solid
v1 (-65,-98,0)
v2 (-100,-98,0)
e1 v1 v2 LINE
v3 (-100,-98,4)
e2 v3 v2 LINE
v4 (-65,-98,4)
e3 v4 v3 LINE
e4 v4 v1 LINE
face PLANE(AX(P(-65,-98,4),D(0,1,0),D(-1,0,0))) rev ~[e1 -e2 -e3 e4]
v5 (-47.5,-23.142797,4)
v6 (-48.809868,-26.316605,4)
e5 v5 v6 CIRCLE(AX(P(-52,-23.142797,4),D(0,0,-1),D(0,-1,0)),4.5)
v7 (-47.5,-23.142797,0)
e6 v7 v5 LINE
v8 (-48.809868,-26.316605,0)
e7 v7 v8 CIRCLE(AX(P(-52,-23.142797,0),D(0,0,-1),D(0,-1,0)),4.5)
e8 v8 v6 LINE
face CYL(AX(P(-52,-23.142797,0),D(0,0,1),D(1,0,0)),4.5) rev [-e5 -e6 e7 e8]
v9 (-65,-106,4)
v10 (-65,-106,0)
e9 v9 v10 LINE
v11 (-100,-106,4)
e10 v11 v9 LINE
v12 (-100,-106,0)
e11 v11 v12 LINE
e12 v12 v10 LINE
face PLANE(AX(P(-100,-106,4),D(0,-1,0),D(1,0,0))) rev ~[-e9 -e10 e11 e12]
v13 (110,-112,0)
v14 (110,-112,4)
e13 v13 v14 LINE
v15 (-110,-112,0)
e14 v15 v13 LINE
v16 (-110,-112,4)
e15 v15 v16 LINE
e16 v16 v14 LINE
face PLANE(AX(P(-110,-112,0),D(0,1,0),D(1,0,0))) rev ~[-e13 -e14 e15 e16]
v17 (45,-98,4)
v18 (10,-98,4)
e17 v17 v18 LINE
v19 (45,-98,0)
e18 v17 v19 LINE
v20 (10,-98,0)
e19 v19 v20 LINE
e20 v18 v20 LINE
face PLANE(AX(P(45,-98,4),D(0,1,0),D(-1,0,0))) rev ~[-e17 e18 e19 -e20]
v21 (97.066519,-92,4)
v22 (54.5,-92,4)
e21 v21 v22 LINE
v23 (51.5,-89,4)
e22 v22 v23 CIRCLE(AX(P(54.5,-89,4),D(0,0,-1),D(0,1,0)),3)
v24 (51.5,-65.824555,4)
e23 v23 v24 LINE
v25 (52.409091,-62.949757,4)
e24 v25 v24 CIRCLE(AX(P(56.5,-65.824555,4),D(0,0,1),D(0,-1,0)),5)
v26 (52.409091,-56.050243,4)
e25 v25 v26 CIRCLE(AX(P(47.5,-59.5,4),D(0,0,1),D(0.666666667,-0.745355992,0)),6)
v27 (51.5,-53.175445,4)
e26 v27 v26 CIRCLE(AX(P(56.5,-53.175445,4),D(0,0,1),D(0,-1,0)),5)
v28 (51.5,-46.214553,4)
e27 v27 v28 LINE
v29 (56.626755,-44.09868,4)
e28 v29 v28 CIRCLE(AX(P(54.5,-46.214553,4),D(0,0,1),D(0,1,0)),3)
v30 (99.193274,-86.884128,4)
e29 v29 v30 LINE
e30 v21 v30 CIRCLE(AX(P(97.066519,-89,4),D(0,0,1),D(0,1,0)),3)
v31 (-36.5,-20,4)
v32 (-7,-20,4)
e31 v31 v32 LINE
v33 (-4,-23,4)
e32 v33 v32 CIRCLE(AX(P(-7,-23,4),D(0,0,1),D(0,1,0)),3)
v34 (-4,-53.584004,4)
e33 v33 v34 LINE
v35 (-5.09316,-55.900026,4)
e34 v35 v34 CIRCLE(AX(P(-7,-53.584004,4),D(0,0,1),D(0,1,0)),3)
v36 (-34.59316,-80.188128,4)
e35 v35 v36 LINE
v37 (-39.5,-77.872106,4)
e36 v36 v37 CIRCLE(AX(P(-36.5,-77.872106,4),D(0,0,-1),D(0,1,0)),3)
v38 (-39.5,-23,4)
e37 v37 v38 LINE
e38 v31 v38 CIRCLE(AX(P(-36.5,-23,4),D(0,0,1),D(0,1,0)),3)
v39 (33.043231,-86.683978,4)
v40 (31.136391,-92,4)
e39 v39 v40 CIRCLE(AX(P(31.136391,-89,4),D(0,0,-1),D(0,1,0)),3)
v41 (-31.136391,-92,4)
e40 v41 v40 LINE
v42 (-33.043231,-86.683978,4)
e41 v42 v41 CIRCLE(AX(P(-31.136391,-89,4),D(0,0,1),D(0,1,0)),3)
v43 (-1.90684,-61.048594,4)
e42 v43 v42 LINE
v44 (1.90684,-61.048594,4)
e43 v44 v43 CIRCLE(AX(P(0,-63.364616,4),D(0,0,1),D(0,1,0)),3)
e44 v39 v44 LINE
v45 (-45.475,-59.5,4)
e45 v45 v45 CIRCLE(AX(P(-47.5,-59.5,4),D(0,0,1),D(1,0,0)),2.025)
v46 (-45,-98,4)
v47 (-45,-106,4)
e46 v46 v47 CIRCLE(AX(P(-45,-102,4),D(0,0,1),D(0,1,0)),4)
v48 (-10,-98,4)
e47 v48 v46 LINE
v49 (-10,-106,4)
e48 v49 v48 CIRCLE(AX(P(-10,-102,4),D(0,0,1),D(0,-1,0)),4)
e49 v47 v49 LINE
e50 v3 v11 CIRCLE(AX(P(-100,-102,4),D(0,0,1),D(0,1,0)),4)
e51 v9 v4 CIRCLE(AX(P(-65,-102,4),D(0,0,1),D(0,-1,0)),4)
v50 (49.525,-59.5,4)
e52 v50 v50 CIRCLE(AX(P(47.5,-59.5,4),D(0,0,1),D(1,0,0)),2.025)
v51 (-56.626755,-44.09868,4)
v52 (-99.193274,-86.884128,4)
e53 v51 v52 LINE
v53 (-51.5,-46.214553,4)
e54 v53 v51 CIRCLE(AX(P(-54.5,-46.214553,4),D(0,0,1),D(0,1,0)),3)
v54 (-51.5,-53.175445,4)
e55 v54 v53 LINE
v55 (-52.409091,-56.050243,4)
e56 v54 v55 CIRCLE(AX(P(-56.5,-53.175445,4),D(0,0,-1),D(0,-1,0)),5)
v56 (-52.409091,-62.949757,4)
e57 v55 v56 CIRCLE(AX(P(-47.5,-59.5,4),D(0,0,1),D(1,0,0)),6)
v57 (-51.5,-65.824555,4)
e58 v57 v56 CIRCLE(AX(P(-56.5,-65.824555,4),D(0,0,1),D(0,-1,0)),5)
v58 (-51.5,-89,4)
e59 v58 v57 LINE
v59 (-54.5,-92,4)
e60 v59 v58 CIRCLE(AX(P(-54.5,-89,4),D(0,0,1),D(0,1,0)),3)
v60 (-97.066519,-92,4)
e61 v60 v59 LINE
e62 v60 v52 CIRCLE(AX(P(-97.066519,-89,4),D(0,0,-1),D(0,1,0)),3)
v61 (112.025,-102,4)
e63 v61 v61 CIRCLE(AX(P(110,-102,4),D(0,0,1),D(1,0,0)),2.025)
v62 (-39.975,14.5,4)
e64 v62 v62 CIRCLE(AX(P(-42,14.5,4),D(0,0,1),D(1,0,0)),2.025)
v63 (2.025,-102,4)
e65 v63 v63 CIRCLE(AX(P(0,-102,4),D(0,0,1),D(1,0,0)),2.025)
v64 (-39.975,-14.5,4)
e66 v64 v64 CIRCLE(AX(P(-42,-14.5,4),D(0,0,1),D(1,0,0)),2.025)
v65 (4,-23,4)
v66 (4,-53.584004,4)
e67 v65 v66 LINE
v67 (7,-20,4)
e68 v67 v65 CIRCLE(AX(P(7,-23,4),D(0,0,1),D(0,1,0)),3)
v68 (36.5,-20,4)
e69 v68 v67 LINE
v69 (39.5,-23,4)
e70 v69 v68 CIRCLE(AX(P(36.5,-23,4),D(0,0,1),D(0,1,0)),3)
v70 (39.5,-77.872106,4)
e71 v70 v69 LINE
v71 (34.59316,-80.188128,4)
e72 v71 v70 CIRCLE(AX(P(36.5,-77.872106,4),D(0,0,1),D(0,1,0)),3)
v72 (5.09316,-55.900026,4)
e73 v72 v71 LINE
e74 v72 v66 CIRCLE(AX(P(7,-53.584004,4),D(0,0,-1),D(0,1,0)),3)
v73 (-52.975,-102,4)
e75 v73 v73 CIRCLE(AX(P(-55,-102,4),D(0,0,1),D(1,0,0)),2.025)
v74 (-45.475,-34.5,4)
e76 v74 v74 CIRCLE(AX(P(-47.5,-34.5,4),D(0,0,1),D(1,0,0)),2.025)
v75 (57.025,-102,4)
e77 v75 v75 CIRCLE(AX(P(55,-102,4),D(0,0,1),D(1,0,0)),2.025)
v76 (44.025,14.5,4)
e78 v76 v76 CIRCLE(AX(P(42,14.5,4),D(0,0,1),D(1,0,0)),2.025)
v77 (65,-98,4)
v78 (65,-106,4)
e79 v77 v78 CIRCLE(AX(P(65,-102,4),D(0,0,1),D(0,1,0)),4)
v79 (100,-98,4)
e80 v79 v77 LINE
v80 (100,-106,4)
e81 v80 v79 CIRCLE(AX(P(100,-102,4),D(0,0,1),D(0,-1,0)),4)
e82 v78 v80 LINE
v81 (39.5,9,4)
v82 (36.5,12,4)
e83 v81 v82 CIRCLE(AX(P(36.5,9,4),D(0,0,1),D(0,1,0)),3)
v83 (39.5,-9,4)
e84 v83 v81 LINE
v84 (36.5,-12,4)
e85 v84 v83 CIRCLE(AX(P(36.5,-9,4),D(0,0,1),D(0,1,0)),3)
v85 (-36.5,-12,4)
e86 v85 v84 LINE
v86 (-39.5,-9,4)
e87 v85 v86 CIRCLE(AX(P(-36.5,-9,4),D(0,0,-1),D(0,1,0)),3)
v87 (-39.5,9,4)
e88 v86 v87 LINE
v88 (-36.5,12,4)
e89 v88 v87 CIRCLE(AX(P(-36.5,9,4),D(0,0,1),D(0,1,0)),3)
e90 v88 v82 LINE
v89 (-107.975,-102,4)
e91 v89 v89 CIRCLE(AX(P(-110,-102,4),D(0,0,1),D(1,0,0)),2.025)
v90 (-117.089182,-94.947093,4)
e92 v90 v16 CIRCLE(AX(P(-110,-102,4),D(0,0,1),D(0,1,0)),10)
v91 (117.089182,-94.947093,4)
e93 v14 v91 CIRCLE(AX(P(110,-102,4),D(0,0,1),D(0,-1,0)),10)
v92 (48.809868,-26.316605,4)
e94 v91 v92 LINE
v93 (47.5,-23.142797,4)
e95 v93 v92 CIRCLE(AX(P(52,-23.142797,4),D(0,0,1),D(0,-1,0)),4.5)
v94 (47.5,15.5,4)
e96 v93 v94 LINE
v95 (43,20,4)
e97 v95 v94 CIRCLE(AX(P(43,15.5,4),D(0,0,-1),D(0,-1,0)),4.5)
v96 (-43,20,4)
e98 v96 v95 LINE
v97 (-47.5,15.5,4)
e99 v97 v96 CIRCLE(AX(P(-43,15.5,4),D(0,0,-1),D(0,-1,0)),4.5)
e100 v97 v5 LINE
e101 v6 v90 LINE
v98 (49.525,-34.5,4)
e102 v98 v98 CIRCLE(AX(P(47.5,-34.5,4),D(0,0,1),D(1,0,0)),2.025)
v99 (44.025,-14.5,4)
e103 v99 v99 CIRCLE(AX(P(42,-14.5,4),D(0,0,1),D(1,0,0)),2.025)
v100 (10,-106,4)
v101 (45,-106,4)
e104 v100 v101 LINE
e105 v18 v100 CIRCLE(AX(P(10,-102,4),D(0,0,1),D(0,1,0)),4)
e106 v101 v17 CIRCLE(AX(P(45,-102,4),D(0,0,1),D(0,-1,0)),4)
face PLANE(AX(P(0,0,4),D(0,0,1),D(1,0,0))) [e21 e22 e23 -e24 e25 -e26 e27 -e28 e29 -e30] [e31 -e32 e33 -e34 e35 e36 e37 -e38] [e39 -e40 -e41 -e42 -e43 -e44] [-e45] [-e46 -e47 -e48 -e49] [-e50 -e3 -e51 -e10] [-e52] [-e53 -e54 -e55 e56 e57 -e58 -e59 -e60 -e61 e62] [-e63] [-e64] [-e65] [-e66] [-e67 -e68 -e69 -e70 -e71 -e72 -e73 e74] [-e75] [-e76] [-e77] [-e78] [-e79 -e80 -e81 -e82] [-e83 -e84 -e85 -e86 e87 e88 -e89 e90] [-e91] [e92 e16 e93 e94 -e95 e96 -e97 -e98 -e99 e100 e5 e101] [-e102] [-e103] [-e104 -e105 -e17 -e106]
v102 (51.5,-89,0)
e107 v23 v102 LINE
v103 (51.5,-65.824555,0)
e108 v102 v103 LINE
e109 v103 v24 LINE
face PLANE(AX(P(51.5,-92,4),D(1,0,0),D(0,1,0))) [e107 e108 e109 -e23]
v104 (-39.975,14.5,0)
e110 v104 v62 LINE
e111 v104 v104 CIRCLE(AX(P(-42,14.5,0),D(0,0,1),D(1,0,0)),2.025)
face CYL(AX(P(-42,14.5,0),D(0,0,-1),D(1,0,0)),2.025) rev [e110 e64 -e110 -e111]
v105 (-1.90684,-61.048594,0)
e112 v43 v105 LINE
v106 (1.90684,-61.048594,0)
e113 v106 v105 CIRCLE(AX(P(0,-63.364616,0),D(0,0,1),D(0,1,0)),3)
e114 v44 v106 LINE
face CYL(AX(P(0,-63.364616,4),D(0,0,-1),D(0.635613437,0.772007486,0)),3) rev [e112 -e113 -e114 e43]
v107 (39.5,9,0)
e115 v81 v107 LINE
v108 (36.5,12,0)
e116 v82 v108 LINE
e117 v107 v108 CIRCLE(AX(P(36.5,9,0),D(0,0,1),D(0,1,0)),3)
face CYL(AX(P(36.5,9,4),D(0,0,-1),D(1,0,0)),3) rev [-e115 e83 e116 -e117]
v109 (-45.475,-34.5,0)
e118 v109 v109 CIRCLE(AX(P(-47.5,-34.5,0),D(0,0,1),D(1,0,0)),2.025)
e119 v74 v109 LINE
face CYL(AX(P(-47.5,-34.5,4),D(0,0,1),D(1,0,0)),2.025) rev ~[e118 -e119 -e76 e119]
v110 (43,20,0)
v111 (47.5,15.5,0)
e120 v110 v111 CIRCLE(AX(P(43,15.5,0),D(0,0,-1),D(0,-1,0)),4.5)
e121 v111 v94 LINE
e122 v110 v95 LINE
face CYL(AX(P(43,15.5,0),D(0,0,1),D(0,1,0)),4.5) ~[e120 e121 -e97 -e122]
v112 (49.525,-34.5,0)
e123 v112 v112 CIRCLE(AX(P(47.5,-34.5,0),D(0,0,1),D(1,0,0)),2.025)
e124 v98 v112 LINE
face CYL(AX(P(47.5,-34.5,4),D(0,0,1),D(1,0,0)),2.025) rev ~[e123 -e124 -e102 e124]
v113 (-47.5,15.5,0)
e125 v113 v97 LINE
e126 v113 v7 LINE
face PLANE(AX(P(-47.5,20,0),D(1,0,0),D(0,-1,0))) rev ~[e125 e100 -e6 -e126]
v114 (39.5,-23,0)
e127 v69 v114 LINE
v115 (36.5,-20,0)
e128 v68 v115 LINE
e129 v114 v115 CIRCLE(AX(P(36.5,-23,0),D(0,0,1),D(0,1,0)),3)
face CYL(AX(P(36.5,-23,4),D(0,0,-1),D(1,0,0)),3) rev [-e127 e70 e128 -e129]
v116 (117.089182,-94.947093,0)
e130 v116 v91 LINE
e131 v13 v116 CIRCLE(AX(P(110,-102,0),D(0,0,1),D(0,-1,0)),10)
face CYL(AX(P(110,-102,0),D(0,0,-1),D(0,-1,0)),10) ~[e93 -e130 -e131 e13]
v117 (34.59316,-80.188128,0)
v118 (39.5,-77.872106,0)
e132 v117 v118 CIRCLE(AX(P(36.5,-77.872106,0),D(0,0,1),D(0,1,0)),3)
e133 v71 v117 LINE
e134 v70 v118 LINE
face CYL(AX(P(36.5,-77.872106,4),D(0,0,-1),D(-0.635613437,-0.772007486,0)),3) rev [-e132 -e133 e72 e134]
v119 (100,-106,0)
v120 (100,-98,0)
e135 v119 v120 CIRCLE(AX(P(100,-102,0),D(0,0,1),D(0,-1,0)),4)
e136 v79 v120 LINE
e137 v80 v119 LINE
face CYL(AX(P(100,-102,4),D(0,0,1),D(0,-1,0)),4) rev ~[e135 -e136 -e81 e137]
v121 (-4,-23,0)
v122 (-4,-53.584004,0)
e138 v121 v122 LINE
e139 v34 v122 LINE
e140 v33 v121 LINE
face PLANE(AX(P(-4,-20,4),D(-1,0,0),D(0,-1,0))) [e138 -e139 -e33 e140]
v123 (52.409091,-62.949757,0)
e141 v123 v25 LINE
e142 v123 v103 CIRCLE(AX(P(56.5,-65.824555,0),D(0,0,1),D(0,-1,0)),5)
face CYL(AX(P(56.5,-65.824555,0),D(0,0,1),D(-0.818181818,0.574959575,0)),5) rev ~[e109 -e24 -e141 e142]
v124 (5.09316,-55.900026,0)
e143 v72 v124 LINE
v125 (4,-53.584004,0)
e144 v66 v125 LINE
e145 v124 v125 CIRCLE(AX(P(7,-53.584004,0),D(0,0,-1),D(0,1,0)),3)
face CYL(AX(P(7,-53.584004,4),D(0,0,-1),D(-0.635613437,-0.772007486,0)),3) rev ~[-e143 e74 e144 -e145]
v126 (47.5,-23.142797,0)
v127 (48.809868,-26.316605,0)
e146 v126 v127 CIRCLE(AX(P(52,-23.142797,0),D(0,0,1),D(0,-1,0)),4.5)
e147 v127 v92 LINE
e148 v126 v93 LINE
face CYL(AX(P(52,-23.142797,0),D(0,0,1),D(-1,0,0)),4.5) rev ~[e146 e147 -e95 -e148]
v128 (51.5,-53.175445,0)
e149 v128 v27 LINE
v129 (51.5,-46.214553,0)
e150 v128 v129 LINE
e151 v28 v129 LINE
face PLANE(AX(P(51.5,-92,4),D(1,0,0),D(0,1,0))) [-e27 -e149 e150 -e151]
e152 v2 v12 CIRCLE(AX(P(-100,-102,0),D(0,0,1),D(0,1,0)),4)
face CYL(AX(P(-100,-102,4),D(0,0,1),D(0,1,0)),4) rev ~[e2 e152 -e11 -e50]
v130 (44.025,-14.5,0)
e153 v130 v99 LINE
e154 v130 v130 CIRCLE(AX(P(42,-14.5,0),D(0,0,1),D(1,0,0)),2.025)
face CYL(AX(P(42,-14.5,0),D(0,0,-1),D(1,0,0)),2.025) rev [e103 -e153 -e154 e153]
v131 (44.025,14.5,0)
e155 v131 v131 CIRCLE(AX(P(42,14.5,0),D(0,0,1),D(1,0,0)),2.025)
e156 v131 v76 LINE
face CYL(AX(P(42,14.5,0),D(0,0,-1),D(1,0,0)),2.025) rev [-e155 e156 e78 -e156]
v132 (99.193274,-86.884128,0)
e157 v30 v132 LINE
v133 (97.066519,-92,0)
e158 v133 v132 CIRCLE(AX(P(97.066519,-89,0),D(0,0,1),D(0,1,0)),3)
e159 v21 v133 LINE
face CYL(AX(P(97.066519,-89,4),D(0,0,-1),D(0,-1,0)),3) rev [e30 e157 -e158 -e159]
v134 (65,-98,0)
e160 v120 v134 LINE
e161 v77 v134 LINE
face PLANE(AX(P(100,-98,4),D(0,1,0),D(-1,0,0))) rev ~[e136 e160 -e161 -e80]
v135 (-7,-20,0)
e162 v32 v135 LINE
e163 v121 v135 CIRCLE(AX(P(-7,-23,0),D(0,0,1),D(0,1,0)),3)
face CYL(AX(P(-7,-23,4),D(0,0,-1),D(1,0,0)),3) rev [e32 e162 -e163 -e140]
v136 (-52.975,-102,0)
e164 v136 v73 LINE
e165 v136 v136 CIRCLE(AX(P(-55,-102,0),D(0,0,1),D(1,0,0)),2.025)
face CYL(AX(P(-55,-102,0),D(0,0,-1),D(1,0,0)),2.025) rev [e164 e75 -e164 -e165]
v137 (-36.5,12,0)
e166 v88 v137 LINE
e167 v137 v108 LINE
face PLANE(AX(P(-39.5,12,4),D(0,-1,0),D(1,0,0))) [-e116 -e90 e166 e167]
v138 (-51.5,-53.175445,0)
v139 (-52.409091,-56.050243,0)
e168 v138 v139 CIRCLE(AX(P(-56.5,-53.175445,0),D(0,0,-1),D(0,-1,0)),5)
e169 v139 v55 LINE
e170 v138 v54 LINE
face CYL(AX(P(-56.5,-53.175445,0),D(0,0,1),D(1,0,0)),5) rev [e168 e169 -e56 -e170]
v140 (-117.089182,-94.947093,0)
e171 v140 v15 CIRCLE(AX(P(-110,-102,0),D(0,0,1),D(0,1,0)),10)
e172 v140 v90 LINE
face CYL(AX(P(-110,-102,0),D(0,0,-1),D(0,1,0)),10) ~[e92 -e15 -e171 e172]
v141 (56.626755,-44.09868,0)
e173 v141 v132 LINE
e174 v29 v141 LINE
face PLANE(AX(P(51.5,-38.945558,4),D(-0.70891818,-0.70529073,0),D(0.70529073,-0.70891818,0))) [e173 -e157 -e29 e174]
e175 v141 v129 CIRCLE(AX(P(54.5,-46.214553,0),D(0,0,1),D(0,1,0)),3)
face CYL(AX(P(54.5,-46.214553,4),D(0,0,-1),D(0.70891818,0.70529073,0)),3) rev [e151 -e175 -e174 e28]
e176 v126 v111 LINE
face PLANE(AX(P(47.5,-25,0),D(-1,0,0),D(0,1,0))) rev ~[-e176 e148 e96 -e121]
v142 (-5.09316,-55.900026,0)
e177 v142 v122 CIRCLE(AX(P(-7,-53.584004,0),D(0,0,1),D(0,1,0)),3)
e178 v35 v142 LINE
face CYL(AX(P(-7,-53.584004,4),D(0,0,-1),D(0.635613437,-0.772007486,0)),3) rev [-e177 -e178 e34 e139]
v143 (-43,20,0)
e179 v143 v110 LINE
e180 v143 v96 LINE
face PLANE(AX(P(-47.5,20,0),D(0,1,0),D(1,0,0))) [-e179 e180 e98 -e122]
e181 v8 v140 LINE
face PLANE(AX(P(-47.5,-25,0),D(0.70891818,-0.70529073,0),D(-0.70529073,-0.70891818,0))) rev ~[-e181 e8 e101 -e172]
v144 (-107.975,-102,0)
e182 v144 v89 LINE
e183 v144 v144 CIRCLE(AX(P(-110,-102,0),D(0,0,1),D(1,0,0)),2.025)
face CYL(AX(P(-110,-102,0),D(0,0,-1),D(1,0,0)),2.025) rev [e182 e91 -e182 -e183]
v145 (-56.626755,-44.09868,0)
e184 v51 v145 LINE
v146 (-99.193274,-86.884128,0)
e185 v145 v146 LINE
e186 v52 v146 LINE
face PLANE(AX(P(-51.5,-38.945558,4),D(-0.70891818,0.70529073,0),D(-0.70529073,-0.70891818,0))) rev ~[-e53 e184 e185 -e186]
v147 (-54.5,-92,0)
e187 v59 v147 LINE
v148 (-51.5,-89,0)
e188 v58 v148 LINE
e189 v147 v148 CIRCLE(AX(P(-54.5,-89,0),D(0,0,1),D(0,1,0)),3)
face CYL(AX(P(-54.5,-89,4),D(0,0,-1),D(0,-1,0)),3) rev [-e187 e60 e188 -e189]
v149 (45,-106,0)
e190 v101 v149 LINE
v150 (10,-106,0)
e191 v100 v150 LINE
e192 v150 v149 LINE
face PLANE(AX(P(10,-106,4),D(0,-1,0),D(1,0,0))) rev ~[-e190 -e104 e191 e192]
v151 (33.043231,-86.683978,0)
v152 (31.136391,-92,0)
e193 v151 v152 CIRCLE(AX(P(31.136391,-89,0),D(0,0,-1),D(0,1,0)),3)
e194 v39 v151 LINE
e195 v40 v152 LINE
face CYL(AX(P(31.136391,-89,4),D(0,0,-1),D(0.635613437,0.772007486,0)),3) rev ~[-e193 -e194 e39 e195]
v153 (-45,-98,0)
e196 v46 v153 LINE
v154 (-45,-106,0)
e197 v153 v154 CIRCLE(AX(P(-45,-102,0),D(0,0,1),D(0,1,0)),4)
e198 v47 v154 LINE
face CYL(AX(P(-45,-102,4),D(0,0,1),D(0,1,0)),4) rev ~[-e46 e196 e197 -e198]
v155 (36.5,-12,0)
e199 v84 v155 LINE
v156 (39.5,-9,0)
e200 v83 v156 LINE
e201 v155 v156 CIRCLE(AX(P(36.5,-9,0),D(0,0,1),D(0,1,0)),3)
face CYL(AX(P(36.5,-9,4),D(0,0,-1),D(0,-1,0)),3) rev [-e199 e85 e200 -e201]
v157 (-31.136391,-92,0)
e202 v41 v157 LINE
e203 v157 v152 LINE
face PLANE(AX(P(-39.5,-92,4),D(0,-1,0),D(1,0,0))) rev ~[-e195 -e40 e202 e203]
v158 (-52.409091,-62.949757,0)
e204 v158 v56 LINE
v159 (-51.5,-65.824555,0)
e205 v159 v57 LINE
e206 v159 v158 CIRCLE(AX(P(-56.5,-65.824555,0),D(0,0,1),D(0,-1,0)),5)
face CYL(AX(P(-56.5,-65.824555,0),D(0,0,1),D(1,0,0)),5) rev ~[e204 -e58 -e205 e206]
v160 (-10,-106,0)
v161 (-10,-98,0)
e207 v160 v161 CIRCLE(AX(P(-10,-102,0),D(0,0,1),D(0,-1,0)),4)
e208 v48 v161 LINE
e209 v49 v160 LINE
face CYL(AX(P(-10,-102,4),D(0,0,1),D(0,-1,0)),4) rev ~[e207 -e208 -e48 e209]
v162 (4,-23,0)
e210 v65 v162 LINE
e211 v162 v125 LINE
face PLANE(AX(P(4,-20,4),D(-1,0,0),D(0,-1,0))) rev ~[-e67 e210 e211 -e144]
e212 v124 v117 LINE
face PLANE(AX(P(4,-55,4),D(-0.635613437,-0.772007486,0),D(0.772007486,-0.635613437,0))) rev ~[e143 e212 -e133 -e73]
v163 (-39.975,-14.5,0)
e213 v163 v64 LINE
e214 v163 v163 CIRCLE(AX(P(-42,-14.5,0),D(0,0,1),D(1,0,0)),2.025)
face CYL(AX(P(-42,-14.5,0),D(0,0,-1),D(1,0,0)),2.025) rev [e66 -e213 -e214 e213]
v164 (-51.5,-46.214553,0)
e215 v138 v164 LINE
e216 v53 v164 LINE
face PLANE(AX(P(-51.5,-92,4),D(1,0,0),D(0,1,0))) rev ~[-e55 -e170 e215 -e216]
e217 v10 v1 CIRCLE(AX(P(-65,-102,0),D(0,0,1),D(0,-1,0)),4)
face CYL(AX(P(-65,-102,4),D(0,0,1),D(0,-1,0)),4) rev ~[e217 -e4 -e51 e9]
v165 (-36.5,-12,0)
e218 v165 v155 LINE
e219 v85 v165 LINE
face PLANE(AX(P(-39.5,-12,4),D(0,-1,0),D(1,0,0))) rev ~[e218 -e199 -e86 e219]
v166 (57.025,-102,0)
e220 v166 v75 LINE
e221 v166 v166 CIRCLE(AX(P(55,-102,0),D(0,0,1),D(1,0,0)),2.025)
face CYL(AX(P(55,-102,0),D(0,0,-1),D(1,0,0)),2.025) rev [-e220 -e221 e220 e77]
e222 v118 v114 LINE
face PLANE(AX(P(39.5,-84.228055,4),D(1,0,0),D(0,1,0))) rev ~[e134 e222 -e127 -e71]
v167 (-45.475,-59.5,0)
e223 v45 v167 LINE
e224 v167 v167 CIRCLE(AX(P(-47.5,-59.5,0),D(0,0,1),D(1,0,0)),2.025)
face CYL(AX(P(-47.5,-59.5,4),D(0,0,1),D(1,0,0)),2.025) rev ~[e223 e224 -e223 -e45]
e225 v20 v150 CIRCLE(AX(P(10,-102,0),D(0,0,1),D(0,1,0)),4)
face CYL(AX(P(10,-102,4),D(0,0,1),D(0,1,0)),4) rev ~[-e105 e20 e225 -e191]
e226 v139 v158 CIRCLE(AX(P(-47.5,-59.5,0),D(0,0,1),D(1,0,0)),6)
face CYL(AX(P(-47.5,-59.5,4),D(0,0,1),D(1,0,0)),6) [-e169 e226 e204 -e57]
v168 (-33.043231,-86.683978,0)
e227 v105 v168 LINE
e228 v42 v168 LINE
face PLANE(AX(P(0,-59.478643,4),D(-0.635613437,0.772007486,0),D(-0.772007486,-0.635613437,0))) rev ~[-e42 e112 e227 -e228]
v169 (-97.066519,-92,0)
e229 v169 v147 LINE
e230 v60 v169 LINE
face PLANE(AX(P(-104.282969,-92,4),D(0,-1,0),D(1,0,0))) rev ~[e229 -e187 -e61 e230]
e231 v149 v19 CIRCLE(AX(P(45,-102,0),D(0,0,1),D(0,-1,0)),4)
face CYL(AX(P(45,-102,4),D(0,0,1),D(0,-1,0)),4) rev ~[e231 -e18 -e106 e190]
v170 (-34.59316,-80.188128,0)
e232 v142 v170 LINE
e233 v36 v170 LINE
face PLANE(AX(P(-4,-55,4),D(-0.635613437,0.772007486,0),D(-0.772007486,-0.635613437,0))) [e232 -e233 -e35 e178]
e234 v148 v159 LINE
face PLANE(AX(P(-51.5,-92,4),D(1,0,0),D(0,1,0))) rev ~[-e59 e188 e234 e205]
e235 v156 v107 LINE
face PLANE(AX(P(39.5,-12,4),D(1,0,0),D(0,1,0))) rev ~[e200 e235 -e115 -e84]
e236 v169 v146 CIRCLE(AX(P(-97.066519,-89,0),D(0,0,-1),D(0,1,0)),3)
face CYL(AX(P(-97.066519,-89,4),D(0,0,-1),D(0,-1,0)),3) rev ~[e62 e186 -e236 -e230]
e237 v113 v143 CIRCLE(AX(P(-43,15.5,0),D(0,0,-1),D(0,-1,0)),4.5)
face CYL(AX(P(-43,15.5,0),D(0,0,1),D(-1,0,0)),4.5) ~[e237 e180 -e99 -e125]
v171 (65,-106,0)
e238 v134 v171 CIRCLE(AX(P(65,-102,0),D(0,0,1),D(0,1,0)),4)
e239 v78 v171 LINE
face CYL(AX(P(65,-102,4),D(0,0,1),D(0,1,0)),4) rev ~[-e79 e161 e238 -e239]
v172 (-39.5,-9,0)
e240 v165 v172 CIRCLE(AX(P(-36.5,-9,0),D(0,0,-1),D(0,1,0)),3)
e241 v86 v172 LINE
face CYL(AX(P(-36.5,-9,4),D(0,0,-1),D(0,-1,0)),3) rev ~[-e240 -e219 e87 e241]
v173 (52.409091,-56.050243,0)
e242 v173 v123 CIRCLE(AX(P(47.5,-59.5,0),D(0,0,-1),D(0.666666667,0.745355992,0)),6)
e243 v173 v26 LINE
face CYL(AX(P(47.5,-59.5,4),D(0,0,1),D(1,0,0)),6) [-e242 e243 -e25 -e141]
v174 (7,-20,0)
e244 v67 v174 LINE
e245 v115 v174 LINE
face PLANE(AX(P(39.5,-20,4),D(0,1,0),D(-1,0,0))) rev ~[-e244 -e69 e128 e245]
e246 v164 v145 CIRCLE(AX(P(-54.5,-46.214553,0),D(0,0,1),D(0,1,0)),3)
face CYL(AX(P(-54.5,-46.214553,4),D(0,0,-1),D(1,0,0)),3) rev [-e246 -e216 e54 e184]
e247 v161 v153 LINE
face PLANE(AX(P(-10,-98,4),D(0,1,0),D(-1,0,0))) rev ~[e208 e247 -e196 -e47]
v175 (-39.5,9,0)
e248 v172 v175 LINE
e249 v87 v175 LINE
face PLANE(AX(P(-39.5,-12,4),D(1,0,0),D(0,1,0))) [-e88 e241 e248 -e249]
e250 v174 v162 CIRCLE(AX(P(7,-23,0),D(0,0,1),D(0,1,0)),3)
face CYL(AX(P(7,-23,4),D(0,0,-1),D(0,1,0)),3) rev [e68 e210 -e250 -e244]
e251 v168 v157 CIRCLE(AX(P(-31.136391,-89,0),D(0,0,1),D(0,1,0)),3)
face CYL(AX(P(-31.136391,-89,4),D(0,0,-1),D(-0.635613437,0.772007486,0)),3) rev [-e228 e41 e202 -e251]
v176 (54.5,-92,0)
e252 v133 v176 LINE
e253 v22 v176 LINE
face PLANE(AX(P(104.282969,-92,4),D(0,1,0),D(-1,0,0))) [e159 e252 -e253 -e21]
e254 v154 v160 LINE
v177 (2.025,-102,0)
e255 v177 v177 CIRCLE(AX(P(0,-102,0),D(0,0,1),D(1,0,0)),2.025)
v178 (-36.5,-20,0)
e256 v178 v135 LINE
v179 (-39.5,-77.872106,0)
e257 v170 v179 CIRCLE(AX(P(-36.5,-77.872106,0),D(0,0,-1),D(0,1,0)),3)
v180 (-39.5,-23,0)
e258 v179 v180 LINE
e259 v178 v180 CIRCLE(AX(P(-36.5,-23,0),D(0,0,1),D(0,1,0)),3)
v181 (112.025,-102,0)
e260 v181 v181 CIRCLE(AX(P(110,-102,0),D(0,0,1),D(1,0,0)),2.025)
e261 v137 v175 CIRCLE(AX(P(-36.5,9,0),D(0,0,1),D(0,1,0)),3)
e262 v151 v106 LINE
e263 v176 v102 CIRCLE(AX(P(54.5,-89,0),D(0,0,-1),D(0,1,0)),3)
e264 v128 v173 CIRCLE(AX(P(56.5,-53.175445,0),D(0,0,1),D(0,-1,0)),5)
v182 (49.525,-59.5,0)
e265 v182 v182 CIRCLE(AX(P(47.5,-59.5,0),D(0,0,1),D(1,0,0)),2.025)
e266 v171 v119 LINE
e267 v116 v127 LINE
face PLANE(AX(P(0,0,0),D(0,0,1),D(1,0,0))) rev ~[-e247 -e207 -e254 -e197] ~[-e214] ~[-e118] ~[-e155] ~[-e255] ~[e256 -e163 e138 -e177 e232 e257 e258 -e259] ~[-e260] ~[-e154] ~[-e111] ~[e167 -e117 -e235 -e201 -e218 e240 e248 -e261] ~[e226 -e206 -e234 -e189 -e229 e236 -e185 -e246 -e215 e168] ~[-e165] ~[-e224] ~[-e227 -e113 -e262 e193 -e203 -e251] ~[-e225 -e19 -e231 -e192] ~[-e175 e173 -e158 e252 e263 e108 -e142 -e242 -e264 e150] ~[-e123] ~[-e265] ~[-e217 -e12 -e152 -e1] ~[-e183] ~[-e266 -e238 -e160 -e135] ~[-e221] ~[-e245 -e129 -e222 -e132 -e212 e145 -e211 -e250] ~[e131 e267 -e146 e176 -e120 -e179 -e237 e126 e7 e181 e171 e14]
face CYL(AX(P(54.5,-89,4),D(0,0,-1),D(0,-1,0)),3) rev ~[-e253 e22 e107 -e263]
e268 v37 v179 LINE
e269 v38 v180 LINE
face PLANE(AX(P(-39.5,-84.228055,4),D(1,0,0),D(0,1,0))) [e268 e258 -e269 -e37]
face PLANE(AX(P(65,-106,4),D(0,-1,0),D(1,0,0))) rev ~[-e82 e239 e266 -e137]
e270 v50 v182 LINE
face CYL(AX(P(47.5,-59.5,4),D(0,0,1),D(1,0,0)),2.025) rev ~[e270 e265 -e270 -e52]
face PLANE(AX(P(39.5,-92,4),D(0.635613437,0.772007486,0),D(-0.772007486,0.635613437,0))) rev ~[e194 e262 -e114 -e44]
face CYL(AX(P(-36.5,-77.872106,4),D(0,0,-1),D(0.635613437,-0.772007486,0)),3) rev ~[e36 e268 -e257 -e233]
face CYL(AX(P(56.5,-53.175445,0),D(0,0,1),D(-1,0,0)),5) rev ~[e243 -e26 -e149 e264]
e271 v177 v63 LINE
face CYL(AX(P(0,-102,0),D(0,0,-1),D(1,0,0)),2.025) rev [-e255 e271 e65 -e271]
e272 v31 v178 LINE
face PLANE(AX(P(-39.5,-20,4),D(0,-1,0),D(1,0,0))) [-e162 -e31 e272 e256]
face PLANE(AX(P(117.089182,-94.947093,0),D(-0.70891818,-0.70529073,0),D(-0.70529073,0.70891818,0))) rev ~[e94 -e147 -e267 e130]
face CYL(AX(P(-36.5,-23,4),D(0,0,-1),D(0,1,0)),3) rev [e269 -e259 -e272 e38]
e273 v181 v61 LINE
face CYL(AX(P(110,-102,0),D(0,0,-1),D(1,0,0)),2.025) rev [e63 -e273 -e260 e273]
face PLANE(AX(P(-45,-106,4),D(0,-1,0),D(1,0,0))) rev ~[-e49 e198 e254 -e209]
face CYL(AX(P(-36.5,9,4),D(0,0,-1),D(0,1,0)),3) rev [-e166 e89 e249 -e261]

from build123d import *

# Parameters (mm, degrees)
SKETCH_1_W          = 95
SKETCH_1_H          = 40
SKETCH_1_R          = 2.025
EXTRUDE_1_DEPTH     = 4
FILLET_1_R          = 4.5
SKETCH_2_W          = 79
SKETCH_2_H          = 24
CUT_EXTRUDE_1_DEPTH = 10
FILLET_2_R          = 3
SKETCH_3_R          = 2.025
CUT_EXTRUDE_2_DEPTH = 10
SKETCH_4_R          = 6
SKETCH_4_R_2        = 2.025
EXTRUDE_2_DEPTH     = 4
FILLET_3_R          = 5


with BuildPart() as part:
    # 草图1 → 凸台-拉伸1 (new body)
    with BuildSketch(Plane.XY):
        Rectangle(SKETCH_1_W, SKETCH_1_H)
        with Locations((-42, -14.5)):
            Circle(SKETCH_1_R, mode=Mode.SUBTRACT)
        with Locations((42, -14.5)):
            Circle(SKETCH_1_R, mode=Mode.SUBTRACT)
        with Locations((42, 14.5)):
            Circle(SKETCH_1_R, mode=Mode.SUBTRACT)
        with Locations((-42, 14.5)):
            Circle(SKETCH_1_R, mode=Mode.SUBTRACT)
        with BuildLine():
            Line((47.5, -20), (-47.5, -20))
            Line((-47.5, -20), (-47.5, -25))
            Line((-47.5, -25), (-117.089181798, -94.947092696))
            ThreePointArc((-117.089181798, -94.947092696), (-113.838679914, -92.766120181), (-110, -92))
            Line((-110, -92), (110, -92))
            ThreePointArc((110, -92), (113.838679914, -92.766120181), (117.089181798, -94.947092696))
            Line((117.089181798, -94.947092696), (47.5, -25))
            Line((47.5, -25), (47.5, -20))
        make_face()
        with BuildLine():
            Line((110, -92), (-110, -92))
            ThreePointArc((-110, -92), (-120, -102), (-110, -112))
            Line((-110, -112), (110, -112))
            ThreePointArc((110, -112), (120, -102), (110, -92))
        make_face()
        with Locations((110, -102)):
            Circle(SKETCH_1_R, mode=Mode.SUBTRACT)
        with Locations((55, -102)):
            Circle(SKETCH_1_R, mode=Mode.SUBTRACT)
        with Locations((0, -102)):
            Circle(SKETCH_1_R, mode=Mode.SUBTRACT)
        with Locations((-55, -102)):
            Circle(SKETCH_1_R, mode=Mode.SUBTRACT)
        with Locations((-110, -102)):
            Circle(SKETCH_1_R, mode=Mode.SUBTRACT)
    extrude(amount=EXTRUDE_1_DEPTH)

    # 圆角1
    fillet_1_edges = [part.edges().sort_by_distance(p)[0] for p in [
        (-47.5, -25, 2),
        (-47.5, 20, 2),
        (47.5, 20, 2),
        (47.5, -25, 2),
    ]]
    fillet(fillet_1_edges, radius=FILLET_1_R)

    # 草图2 → 切除-拉伸1 (cut)
    with BuildSketch(Plane.XY.offset(4)):
        Rectangle(SKETCH_2_W, SKETCH_2_H)
        Polygon((-39.5, -84.228054643), (-39.5, -20), (-4, -20), (-4, -55), align=None)
        Polygon((4, -55), (39.5, -84.228054643), (39.5, -20), (4, -20), align=None)
        Polygon((39.5, -92), (0, -59.478643425), (0, -92), align=None)
        Polygon((0, -92), (0, -59.478643425), (-39.5, -92), align=None)
        Polygon((51.5, -92), (51.5, -38.945557904), (104.282968869, -92), align=None)
        Polygon((-104.282968869, -92), (-51.5, -92), (-51.5, -38.945557904), align=None)
        with BuildLine():
            Line((-100, -106), (-65, -106))
            ThreePointArc((-65, -106), (-61, -102), (-65, -98))
            Line((-65, -98), (-100, -98))
            ThreePointArc((-100, -98), (-104, -102), (-100, -106))
        make_face()
        with BuildLine():
            Line((-45, -106), (-10, -106))
            ThreePointArc((-10, -106), (-6, -102), (-10, -98))
            Line((-10, -98), (-45, -98))
            ThreePointArc((-45, -98), (-49, -102), (-45, -106))
        make_face()
        with BuildLine():
            Line((10, -106), (45, -106))
            ThreePointArc((45, -106), (49, -102), (45, -98))
            Line((45, -98), (10, -98))
            ThreePointArc((10, -98), (6, -102), (10, -106))
        make_face()
        with BuildLine():
            Line((65, -106), (100, -106))
            ThreePointArc((100, -106), (104, -102), (100, -98))
            Line((100, -98), (65, -98))
            ThreePointArc((65, -98), (61, -102), (65, -106))
        make_face()
    extrude(amount=-CUT_EXTRUDE_1_DEPTH, mode=Mode.SUBTRACT)

    # 圆角2
    fillet_2_edges = [part.edges().sort_by_distance(p)[0] for p in [
        (39.5, -12, 2),
        (-39.5, -12, 2),
        (-39.5, 12, 2),
        (39.5, 12, 2),
        (51.5, -92, 2),
        (51.5, -38.945557904, 2),
        (104.282968869, -92, 2),
        (0, -59.478643425, 2),
        (39.5, -92, 2),
        (-39.5, -92, 2),
        (39.5, -84.228054643, 2),
        (4, -55, 2),
        (4, -20, 2),
        (39.5, -20, 2),
        (-39.5, -84.228054643, 2),
        (-39.5, -20, 2),
        (-4, -20, 2),
        (-4, -55, 2),
        (-51.5, -92, 2),
        (-104.282968869, -92, 2),
        (-51.5, -38.945557904, 2),
    ]]
    fillet(fillet_2_edges, radius=FILLET_2_R)

    # 草图3 → 切除-拉伸2 (cut)
    with BuildSketch(Plane.XY.offset(4)):
        with Locations((-47.5, -34.5)):
            Circle(SKETCH_3_R)
        with Locations((-47.5, -59.5)):
            Circle(SKETCH_3_R)
        with Locations((47.5, -34.5)):
            Circle(SKETCH_3_R)
        with Locations((47.5, -59.5)):
            Circle(SKETCH_3_R)
    extrude(amount=-CUT_EXTRUDE_2_DEPTH, mode=Mode.SUBTRACT)

    # 草图4 → 凸台-拉伸2 (add)
    with BuildSketch(Plane.XY.offset(4)):
        with Locations((-47.5, -59.5)):
            Circle(SKETCH_4_R)
        with Locations((-47.5, -59.5)):
            Circle(SKETCH_4_R_2, mode=Mode.SUBTRACT)
        with Locations((47.5, -59.5)):
            Circle(SKETCH_4_R)
        with Locations((47.5, -59.5)):
            Circle(SKETCH_4_R_2, mode=Mode.SUBTRACT)
    extrude(amount=-EXTRUDE_2_DEPTH)

    # 圆角3
    fillet_3_edges = [part.edges().sort_by_distance(p)[0] for p in [
        (-51.5, -63.972135955, 2),
        (-51.5, -55.027864045, 2),
        (51.5, -63.972135955, 2),
        (51.5, -55.027864045, 2),
    ]]
    fillet(fillet_3_edges, radius=FILLET_3_R)


solid = part.part
